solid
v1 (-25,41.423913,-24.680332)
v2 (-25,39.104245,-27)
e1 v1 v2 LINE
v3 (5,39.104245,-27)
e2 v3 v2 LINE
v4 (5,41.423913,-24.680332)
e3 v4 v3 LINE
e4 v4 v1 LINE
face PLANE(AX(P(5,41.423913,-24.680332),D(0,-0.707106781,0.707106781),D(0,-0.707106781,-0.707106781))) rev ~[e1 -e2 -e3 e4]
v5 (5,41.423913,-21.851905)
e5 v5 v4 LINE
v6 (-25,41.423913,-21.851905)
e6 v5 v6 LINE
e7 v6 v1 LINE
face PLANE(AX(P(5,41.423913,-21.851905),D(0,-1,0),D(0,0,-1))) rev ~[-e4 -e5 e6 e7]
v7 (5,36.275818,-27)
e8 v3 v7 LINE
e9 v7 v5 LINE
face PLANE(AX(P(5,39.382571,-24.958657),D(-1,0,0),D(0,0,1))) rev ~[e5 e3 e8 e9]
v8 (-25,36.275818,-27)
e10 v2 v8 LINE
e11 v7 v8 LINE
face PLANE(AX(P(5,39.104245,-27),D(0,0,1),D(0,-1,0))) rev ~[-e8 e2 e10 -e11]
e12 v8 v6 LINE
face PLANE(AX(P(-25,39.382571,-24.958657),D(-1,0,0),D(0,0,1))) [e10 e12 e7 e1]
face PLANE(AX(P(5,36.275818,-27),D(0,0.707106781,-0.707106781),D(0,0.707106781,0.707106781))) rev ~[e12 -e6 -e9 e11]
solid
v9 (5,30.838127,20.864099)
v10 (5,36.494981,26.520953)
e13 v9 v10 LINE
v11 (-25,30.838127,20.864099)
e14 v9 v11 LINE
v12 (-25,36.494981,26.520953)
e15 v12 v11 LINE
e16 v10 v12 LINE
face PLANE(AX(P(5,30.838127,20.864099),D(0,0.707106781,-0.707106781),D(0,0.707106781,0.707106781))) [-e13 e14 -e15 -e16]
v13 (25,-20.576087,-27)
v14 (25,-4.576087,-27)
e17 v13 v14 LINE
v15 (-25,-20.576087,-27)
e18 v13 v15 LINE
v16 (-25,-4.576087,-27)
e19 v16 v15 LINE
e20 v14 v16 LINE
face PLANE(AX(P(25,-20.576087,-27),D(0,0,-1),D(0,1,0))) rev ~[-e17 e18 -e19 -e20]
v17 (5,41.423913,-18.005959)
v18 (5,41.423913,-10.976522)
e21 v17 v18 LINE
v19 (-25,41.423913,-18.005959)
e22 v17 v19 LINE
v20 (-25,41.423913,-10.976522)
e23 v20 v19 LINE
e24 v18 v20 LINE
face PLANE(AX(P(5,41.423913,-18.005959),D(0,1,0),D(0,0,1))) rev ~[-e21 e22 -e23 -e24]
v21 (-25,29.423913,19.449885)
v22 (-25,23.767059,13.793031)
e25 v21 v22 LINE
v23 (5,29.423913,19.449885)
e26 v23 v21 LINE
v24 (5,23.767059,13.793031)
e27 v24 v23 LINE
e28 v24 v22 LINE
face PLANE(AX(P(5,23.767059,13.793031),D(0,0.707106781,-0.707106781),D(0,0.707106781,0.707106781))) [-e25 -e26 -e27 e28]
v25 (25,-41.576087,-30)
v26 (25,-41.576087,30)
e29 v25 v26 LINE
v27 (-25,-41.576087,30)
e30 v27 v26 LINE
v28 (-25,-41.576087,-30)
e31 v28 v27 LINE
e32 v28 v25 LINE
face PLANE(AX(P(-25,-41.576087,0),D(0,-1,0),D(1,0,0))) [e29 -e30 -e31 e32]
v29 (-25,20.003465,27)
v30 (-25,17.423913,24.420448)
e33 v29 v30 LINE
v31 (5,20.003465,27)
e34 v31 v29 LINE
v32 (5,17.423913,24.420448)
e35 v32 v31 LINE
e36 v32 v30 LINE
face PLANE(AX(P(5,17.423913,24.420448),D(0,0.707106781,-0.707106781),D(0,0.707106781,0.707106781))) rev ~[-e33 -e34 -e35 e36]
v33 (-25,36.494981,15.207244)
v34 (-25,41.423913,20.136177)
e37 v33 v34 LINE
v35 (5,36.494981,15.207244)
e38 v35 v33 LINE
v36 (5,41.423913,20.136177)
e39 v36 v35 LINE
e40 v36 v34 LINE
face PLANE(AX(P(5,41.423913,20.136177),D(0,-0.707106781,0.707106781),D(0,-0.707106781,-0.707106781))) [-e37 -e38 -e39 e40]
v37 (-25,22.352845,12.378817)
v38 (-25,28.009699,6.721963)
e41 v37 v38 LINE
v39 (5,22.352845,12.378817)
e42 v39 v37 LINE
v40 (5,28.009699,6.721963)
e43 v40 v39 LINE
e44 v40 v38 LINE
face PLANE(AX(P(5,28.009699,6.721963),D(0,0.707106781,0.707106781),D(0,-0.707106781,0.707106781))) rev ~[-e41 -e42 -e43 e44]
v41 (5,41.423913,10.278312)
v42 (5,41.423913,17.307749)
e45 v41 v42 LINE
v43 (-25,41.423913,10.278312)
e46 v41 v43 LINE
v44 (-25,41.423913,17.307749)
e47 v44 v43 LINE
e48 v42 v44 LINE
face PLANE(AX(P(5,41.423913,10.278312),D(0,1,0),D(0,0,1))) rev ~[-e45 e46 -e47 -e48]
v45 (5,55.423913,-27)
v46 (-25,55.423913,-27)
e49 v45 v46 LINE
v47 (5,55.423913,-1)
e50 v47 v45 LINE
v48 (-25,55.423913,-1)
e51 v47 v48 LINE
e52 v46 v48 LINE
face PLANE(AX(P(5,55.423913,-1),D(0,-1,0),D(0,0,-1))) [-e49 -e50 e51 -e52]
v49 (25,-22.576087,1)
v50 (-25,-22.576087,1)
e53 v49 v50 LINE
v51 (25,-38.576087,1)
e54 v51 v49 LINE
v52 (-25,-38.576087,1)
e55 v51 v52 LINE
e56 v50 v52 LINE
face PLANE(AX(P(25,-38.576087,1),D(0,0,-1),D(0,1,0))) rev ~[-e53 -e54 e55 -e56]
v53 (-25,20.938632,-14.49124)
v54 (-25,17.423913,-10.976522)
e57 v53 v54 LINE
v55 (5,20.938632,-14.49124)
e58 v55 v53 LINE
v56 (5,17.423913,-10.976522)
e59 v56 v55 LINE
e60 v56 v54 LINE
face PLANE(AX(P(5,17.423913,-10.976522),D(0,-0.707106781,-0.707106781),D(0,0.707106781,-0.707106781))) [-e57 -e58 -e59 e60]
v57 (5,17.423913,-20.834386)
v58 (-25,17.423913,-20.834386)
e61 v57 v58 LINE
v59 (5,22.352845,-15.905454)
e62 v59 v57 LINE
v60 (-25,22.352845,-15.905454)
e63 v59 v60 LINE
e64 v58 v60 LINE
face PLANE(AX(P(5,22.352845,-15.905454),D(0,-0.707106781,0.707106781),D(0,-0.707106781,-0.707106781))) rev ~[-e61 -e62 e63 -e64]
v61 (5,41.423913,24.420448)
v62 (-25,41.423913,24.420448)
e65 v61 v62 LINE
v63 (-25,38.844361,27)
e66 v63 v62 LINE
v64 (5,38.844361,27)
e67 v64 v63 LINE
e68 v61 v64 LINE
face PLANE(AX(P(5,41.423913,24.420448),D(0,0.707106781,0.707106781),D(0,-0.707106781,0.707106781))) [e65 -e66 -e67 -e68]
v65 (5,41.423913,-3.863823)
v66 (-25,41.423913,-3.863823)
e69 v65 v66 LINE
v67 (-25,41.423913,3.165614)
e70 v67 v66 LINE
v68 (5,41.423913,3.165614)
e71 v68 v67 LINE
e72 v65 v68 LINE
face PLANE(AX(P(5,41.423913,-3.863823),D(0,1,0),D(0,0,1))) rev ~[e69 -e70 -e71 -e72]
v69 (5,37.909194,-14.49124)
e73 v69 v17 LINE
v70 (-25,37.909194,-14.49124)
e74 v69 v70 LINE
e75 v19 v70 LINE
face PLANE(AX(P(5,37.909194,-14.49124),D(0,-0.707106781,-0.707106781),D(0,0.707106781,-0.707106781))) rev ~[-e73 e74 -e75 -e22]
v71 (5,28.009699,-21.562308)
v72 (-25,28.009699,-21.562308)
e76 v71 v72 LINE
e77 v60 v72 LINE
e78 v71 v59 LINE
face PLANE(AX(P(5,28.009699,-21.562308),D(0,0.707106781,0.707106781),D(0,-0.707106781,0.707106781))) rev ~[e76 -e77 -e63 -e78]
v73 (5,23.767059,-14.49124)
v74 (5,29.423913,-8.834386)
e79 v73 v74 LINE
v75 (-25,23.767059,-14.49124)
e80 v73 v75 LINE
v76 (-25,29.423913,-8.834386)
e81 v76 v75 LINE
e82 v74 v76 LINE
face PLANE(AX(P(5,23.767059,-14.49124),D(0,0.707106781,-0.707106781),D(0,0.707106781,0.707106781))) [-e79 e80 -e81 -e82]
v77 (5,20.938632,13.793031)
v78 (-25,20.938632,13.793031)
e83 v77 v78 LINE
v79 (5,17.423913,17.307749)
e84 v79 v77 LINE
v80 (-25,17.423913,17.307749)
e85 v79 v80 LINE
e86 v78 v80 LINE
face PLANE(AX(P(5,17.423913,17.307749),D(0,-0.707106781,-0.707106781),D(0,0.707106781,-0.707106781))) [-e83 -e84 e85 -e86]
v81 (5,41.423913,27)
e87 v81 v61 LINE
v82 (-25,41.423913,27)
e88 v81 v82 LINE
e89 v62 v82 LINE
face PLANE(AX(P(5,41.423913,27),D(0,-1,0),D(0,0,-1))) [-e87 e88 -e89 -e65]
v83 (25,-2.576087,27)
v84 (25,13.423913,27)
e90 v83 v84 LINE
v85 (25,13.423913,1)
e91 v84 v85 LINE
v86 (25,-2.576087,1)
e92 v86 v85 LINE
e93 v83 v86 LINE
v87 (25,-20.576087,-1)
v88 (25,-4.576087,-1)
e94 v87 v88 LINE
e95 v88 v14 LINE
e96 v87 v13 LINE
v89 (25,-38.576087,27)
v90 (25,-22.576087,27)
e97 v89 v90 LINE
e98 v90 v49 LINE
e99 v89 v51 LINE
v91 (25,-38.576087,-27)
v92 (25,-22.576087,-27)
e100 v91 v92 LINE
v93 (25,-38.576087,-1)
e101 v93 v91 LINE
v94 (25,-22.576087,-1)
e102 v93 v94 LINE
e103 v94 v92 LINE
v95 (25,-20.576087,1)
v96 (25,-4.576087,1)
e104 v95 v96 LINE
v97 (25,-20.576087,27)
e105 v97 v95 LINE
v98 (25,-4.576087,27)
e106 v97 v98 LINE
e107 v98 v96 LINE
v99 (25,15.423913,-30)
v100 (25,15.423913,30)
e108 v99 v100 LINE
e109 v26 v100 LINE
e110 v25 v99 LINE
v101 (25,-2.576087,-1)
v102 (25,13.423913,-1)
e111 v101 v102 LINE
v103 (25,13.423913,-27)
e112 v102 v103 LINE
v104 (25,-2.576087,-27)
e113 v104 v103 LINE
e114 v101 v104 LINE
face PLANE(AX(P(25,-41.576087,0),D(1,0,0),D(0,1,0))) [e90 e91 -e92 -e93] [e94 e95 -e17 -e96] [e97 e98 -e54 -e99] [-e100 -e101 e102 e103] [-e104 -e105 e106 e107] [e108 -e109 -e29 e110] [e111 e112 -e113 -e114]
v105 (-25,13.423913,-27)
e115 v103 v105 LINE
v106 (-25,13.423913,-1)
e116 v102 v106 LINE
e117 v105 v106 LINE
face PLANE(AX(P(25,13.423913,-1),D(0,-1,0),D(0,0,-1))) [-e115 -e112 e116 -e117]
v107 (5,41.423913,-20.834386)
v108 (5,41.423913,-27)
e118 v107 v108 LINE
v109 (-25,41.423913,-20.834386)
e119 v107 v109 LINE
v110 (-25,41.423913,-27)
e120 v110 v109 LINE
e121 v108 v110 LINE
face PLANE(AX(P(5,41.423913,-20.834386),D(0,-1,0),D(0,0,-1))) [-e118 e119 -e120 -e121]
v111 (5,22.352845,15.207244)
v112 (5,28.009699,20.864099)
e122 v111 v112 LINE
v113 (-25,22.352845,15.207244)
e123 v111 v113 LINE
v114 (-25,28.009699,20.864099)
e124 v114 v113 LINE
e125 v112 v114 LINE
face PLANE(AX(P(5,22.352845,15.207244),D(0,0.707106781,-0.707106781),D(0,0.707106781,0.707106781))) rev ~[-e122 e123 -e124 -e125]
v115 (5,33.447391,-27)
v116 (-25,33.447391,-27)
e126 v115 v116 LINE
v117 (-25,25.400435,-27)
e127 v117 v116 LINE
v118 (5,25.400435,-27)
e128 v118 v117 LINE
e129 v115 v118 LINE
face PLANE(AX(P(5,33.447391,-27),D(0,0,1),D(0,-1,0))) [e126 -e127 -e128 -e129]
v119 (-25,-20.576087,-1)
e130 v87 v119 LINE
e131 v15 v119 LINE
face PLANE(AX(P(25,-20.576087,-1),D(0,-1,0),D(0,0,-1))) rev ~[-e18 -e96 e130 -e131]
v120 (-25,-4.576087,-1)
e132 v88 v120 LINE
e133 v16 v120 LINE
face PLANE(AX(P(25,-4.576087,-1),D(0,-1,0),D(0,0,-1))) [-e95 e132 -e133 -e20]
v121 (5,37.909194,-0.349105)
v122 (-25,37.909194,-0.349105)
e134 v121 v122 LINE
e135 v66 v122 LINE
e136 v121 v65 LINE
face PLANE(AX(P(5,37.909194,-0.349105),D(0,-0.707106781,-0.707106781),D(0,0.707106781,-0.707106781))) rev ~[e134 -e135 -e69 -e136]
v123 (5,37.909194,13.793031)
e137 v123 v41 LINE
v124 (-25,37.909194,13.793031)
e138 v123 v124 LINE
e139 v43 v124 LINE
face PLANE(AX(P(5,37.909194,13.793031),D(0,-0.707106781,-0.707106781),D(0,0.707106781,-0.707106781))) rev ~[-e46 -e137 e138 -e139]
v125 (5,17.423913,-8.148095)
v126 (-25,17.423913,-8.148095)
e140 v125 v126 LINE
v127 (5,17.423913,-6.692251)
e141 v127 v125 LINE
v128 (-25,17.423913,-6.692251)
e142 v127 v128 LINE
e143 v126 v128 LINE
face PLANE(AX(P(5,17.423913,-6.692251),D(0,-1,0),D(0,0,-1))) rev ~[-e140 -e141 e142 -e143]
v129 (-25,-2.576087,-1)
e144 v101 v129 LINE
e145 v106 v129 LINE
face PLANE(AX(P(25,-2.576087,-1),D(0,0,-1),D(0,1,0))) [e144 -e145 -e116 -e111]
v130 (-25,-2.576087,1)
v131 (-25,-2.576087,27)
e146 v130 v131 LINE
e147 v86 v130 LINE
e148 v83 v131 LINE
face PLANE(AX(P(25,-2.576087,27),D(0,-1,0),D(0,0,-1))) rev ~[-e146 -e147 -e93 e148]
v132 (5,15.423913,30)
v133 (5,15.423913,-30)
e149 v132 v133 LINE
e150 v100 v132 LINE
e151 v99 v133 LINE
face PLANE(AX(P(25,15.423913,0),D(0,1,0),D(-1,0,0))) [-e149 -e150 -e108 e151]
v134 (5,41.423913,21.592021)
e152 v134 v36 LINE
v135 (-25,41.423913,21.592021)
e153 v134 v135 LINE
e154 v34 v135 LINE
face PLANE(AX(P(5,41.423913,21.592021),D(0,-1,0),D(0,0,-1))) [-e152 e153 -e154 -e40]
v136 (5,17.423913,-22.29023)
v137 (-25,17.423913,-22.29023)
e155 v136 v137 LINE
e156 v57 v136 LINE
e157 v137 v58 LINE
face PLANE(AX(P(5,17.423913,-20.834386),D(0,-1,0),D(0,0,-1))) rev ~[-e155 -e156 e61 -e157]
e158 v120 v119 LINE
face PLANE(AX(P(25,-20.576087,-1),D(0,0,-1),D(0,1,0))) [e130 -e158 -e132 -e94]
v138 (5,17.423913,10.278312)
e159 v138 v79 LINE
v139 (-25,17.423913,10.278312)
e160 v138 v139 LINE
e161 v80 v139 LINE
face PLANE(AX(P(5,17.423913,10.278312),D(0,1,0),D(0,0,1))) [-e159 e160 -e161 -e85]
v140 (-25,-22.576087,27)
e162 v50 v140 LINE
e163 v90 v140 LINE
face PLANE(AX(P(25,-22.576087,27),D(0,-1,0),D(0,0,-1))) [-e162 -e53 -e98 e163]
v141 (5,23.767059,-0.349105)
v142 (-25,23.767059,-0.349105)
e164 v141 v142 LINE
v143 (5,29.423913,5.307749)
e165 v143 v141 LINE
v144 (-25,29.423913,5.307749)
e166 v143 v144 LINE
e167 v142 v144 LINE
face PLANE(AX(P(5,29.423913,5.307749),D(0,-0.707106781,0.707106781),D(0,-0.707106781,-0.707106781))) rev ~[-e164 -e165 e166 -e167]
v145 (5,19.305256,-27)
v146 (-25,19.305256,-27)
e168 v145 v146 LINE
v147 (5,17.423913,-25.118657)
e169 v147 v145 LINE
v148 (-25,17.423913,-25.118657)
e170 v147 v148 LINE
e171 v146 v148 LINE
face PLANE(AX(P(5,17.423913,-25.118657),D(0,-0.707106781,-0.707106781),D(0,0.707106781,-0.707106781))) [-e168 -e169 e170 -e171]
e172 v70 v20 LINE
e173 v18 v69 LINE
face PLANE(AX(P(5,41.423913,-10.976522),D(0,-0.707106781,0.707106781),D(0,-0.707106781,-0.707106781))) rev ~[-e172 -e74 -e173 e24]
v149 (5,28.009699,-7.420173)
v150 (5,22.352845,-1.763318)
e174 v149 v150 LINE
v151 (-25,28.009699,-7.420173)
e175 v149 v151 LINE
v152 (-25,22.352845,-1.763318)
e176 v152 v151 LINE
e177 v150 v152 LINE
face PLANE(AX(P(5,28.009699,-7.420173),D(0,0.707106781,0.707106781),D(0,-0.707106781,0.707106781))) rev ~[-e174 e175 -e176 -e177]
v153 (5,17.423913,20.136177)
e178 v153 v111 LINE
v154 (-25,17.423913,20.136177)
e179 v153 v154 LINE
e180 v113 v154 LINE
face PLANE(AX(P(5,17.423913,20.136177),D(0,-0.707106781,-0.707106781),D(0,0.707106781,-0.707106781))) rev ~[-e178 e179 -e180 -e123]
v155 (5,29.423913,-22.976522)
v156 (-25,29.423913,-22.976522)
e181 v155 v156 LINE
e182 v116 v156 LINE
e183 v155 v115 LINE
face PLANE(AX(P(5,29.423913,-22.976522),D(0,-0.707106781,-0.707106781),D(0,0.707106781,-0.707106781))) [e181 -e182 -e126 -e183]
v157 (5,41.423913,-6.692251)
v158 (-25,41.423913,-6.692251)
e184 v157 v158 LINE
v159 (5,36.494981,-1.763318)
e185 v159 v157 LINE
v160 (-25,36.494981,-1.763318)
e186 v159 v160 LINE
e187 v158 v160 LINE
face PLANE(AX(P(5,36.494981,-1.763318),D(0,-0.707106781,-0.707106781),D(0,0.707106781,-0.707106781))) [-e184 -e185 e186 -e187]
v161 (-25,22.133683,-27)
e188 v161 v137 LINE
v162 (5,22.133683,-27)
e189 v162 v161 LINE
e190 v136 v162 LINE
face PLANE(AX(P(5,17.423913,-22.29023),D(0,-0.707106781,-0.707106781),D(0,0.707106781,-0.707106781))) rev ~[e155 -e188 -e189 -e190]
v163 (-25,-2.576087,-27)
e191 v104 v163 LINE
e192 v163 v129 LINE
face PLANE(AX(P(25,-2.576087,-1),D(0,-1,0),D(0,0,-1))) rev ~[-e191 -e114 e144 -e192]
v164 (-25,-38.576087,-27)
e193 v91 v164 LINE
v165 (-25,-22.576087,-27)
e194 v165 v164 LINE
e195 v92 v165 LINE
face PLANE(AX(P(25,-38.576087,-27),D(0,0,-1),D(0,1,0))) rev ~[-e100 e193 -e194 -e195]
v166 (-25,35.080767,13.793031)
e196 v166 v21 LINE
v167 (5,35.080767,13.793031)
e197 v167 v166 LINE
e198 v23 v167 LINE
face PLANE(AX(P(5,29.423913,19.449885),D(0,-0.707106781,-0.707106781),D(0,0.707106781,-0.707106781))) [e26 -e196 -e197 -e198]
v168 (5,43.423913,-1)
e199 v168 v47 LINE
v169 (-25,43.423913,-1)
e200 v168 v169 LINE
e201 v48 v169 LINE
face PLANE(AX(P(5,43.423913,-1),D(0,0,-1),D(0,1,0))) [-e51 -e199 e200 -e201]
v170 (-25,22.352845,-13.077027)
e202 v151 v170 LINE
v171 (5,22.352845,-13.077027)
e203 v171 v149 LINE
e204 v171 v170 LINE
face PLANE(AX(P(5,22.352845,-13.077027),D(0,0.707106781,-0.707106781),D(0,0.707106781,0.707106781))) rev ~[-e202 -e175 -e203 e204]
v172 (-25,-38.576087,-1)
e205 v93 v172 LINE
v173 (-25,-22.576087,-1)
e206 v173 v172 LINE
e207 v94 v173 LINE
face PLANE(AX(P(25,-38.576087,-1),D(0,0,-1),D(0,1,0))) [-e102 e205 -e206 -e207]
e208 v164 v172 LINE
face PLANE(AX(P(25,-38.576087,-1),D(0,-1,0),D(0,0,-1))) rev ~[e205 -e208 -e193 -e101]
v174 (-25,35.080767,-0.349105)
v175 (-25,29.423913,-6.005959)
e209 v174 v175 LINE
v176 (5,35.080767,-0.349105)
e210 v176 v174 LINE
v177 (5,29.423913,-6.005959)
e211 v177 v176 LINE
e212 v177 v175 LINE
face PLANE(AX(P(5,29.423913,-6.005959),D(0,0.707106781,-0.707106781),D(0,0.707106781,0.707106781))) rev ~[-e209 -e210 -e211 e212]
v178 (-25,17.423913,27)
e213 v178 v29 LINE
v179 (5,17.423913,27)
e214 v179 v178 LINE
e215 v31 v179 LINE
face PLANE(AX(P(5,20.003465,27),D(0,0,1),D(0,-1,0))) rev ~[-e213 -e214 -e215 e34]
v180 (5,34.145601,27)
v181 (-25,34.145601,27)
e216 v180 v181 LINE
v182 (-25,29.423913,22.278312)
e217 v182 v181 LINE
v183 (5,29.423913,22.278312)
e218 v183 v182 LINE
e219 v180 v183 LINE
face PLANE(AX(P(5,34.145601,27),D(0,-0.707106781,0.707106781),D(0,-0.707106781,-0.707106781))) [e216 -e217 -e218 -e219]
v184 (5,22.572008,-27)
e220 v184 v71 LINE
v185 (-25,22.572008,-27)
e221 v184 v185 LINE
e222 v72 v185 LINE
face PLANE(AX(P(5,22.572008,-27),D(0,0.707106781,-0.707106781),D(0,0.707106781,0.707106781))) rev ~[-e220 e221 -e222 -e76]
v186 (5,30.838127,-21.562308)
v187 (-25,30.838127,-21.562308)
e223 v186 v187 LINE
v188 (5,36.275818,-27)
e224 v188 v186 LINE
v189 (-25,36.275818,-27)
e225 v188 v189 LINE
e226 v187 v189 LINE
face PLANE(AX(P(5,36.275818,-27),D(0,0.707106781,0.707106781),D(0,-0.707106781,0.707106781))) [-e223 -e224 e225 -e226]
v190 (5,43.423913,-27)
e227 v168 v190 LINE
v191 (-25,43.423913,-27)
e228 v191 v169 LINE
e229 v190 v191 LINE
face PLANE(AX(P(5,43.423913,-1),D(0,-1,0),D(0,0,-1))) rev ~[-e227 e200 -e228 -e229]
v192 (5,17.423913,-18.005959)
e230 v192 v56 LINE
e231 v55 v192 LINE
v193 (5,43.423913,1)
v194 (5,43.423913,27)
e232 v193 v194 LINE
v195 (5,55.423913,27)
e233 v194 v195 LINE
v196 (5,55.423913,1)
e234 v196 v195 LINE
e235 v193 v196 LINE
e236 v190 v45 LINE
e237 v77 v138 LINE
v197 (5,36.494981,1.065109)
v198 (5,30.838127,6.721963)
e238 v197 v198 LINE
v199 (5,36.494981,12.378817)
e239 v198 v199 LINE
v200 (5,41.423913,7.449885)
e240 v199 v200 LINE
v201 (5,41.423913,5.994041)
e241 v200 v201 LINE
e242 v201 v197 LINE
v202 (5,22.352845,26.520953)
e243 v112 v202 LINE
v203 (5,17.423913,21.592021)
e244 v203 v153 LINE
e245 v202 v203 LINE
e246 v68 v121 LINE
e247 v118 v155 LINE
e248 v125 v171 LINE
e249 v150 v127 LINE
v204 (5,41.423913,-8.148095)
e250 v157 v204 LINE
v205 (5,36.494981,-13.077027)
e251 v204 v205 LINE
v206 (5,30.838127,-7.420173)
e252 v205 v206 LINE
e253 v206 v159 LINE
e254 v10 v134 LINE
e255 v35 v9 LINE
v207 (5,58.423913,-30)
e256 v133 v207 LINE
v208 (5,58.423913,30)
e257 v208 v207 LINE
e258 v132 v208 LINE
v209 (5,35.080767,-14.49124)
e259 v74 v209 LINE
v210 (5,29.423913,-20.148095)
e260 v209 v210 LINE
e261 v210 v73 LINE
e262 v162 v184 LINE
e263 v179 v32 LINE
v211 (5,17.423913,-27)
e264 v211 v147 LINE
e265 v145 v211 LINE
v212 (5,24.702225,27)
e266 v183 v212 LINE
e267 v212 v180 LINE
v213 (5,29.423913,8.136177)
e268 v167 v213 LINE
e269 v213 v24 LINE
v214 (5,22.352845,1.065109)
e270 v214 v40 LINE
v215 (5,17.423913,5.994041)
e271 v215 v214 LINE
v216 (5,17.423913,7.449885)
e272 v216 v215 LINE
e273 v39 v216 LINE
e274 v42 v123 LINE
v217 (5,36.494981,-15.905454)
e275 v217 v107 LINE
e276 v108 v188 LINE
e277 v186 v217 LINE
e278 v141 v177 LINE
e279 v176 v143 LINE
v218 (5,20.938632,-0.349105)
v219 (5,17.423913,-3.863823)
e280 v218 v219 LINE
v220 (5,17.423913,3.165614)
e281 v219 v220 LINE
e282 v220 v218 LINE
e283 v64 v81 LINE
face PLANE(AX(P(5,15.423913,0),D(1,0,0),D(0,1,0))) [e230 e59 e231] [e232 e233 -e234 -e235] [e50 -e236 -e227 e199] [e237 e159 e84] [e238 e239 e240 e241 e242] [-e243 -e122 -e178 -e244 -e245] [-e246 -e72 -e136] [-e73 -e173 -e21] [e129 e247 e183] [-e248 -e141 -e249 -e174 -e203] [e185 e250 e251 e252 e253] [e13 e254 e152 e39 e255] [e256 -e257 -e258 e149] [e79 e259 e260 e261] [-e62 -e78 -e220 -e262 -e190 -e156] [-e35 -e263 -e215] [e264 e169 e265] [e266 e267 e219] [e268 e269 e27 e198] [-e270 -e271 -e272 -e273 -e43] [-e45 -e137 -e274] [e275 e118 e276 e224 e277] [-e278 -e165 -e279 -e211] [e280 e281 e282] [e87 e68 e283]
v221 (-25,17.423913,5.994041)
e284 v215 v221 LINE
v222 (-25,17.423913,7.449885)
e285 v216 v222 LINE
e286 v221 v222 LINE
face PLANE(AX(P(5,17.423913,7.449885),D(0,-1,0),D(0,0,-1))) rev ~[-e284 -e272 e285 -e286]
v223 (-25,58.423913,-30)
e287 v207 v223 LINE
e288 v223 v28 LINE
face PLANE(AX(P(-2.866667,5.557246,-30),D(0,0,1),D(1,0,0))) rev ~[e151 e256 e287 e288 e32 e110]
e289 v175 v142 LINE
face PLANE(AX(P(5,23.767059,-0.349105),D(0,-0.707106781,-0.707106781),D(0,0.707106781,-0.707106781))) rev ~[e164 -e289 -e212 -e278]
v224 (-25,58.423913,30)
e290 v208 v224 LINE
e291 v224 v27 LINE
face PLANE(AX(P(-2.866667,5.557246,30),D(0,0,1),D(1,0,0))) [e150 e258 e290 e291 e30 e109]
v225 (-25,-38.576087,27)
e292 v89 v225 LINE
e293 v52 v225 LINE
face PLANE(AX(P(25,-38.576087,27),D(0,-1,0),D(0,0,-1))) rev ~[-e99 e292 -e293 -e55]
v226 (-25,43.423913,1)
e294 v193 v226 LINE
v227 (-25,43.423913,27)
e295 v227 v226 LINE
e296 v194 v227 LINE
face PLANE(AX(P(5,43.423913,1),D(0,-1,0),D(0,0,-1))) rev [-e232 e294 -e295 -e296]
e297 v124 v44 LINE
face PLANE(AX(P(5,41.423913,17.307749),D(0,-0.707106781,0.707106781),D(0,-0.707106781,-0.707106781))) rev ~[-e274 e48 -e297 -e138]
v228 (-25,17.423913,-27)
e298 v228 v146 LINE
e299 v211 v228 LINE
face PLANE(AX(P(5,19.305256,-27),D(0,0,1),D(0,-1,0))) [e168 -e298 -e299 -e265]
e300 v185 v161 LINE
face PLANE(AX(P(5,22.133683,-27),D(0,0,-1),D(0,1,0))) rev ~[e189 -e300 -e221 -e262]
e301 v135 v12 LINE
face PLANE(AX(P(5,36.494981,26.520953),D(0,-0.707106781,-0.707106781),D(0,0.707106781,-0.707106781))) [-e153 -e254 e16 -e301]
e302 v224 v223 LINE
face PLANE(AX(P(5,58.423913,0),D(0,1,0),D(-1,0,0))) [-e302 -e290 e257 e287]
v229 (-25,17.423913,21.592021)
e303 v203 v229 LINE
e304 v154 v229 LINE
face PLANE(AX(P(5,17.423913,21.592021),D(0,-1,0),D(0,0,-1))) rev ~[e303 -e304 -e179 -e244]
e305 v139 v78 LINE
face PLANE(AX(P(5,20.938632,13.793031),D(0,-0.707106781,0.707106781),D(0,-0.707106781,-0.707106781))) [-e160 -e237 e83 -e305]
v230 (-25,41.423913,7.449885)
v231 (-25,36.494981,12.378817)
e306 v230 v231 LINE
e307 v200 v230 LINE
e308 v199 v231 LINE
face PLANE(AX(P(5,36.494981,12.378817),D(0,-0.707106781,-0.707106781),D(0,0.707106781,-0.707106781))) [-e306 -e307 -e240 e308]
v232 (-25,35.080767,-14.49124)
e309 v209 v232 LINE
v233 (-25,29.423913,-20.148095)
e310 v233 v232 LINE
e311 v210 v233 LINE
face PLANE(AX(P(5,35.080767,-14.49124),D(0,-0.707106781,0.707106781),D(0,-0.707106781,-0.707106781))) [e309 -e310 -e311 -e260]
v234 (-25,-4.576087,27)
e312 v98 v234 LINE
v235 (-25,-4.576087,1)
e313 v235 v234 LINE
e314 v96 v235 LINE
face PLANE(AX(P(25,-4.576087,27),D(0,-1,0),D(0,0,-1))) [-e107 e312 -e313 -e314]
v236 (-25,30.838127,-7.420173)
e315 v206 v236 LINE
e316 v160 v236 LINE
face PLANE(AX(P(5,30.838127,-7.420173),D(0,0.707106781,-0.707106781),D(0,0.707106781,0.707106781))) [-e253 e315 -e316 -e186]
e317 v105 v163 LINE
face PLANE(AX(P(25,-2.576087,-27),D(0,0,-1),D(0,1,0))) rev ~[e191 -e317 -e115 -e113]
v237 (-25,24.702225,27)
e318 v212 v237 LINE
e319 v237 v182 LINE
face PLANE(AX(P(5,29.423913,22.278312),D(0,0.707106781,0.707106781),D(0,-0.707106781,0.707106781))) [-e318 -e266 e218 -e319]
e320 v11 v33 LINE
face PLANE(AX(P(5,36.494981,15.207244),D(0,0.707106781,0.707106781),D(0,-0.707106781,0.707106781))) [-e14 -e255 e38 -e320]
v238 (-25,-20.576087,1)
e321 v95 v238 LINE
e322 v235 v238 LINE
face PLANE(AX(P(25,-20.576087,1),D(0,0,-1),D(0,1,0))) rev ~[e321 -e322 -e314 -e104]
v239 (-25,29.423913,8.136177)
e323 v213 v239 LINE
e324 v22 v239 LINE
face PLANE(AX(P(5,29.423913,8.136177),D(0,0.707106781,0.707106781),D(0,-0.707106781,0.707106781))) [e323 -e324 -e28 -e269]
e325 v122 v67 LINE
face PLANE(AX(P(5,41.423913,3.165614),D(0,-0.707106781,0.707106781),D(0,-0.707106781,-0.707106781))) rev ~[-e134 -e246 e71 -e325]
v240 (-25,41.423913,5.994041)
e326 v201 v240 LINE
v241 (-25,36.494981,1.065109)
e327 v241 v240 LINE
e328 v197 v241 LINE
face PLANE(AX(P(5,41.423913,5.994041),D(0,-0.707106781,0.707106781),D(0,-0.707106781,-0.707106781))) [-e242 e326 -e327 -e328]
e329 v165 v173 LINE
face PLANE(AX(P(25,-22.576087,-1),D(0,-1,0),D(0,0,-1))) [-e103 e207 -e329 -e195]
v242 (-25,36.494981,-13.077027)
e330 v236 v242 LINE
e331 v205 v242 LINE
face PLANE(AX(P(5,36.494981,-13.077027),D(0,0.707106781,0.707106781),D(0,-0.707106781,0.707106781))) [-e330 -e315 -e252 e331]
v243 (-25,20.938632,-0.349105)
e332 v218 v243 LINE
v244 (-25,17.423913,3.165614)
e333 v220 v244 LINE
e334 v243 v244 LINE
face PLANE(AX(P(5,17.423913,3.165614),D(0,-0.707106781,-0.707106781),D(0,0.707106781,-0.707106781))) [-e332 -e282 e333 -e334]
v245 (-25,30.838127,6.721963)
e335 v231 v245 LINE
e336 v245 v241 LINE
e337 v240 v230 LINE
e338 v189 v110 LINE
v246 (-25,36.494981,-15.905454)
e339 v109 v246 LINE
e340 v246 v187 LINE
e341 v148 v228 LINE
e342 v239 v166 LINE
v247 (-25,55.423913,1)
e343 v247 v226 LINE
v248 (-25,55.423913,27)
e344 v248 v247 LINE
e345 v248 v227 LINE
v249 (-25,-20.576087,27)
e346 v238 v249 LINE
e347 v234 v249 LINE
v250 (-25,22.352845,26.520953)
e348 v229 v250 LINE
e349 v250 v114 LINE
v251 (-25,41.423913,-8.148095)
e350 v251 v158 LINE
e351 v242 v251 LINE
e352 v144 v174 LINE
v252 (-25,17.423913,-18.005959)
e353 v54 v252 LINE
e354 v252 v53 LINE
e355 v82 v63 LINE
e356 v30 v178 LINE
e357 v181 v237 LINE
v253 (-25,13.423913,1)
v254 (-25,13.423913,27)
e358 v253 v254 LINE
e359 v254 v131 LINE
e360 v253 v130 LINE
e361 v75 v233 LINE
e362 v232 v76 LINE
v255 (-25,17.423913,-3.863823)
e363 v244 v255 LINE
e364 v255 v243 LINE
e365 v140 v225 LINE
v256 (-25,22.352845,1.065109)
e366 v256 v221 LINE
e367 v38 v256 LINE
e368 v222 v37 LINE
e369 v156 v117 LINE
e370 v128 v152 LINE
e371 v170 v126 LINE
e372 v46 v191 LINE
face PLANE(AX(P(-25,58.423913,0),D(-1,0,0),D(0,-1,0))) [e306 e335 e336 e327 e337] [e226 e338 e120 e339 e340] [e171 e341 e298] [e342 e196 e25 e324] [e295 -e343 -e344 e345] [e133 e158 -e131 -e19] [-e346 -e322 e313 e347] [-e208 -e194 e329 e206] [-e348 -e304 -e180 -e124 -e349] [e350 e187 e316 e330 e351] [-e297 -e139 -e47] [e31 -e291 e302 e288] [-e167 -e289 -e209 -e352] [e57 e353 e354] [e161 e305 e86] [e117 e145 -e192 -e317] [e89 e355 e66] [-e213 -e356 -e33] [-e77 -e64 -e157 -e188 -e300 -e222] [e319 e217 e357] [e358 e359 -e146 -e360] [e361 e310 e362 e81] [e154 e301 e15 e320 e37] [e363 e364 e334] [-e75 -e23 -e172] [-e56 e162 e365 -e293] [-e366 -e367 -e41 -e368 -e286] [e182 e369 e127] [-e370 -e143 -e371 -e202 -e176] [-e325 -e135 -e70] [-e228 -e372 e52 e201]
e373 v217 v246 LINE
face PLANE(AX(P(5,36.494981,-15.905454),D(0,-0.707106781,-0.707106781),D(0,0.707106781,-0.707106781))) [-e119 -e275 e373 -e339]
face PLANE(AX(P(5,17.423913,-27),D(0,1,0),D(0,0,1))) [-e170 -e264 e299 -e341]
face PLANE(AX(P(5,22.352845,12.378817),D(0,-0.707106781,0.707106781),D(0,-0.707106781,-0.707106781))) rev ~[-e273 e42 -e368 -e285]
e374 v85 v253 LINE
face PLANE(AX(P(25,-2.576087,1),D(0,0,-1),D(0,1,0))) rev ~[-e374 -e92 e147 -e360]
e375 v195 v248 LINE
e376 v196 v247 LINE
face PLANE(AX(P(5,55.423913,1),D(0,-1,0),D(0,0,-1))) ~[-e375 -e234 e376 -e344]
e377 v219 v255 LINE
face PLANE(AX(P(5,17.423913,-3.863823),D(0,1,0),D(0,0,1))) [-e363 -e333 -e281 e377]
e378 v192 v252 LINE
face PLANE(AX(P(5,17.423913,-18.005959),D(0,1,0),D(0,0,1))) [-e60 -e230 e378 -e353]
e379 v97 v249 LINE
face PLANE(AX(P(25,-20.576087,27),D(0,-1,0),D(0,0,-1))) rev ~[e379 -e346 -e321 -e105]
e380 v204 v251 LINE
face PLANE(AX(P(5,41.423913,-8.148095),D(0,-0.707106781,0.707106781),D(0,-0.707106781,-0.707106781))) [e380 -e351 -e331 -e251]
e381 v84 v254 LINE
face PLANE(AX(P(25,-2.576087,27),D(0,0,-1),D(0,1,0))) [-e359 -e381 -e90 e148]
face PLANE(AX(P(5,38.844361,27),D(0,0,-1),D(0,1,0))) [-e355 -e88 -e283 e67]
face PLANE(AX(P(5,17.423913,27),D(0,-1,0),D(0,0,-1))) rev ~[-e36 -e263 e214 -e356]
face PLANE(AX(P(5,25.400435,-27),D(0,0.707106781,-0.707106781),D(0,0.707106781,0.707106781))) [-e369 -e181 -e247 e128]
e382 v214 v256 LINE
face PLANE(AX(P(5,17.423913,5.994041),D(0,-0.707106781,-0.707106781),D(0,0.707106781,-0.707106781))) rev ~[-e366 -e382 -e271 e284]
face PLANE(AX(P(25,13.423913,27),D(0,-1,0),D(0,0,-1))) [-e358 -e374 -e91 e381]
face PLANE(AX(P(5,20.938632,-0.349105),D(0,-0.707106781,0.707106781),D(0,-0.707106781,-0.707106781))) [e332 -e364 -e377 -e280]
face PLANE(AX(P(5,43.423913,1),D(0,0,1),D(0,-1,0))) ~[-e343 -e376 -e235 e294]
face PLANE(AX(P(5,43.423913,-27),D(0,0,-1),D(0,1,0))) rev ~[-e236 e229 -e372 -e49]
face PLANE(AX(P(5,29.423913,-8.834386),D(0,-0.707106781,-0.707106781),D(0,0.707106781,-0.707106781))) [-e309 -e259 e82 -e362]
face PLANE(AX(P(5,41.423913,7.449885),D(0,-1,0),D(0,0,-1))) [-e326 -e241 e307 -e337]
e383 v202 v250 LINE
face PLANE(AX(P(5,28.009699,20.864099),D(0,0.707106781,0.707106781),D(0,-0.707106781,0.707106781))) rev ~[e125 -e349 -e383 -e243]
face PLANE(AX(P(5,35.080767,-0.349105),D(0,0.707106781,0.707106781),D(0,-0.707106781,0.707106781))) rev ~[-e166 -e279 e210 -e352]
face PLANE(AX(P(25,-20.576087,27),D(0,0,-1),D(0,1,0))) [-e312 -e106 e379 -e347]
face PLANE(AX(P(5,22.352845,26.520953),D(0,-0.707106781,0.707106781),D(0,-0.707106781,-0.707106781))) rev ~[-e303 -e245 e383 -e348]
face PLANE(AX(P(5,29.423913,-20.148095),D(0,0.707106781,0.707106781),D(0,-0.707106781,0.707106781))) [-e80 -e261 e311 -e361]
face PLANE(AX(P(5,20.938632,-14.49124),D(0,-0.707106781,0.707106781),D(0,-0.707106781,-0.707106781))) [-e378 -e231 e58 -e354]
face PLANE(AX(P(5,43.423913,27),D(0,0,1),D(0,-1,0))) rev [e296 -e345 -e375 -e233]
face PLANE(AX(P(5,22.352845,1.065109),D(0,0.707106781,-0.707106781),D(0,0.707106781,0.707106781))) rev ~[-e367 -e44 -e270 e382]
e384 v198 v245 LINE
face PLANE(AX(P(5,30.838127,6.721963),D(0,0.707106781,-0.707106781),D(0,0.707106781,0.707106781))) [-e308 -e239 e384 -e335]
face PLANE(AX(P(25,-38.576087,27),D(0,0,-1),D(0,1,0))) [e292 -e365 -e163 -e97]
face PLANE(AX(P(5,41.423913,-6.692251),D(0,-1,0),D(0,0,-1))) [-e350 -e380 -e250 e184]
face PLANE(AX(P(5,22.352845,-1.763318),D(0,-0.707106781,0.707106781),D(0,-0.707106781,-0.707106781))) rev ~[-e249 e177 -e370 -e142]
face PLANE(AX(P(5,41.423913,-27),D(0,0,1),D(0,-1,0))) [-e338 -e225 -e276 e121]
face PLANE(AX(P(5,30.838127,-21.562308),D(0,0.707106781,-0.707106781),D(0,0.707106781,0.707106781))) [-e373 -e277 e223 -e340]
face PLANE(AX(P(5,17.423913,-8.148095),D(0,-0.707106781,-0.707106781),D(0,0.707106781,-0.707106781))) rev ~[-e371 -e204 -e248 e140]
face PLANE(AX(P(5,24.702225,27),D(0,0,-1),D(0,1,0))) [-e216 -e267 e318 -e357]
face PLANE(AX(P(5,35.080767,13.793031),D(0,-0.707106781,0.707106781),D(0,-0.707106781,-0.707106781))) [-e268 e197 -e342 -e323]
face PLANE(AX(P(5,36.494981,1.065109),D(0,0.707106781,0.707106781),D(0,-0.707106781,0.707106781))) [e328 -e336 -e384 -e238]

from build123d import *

# Parameters (mm, degrees)
BOSS_EXTRUDE1_DEPTH = 30
SKETCH2_W           = 26
SKETCH2_H           = 16
CUT_EXTRUDE1_DEPTH  = 83.543040987
SKETCH3_W           = 26
SKETCH3_H           = 12
CUT_EXTRUDE2_DEPTH  = 73.203556805
CUT_EXTRUDE3_DEPTH  = 73.203556805
BOSS_EXTRUDE2_DEPTH = 30


with BuildPart() as part:
    # Sketch1 → Boss-Extrude1 (new, symmetric)
    with BuildSketch(Plane.XY):
        Polygon((-25, 58.423913043), (-25, -41.576086957), (25, -41.576086957), (25, 15.423913043), (5, 15.423913043), (5, 58.423913043), align=None)
    extrude(amount=BOSS_EXTRUDE1_DEPTH, both=True)

    # Sketch2 → Cut-Extrude1 (cut, through all)
    with BuildSketch(Plane(origin=(25, 0, 0), x_dir=(0, 0, -1), z_dir=(1, 0, 0))):
        with Locations((-14, 5.423913043)):
            Rectangle(SKETCH2_W, SKETCH2_H)
        with Locations((14, 5.423913043)):
            Rectangle(SKETCH2_W, SKETCH2_H)
        with Locations((-14, -12.576086957)):
            Rectangle(SKETCH2_W, SKETCH2_H)
        with Locations((14, -12.576086957)):
            Rectangle(SKETCH2_W, SKETCH2_H)
        with Locations((14, -30.576086957)):
            Rectangle(SKETCH2_W, SKETCH2_H)
        with Locations((-14, -30.576086957)):
            Rectangle(SKETCH2_W, SKETCH2_H)
    extrude(amount=-CUT_EXTRUDE1_DEPTH, mode=Mode.SUBTRACT)

    # Sketch3 → Cut-Extrude2 (cut, through all)
    with BuildSketch(Plane(origin=(5, 0, 0), x_dir=(0, 0, -1), z_dir=(1, 0, 0))):
        with Locations((14, 49.423913043)):
            Rectangle(SKETCH3_W, SKETCH3_H)
    cut_extrude2 = extrude(amount=-CUT_EXTRUDE2_DEPTH, mode=Mode.SUBTRACT)

    # Mirror2: Cut-Extrude2 across plane
    add(cut_extrude2.mirror(Plane.XY), mode=Mode.SUBTRACT)

    # Sketch4 → Cut-Extrude3 (cut, through all)
    with BuildSketch(Plane(origin=(5, 0, 0), x_dir=(0, 0, -1), z_dir=(1, 0, 0))):
        Polygon((-27, 41.423913043), (-24.420447792, 41.423913043), (-27, 38.844360836), align=None)
        Polygon((-27, 17.423913043), (-24.420447792, 17.423913043), (-27, 20.003465251), align=None)
        Polygon((27, 41.423913043), (27, 36.275818341), (21.562308265, 30.838126606), (15.905454016, 36.494980855), (20.834386204, 41.423913043), align=None)
        Polygon((-26.520952855, 22.352845232), (-21.592020667, 17.423913043), (-20.136176545, 17.423913043), (-15.207244356, 22.352845232), (-20.864098606, 28.009699481), align=None)
        Polygon((-20.136176545, 41.423913043), (-15.207244356, 36.494980855), (-20.864098606, 30.838126606), (-26.520952855, 36.494980855), (-21.592020667, 41.423913043), align=None)
        Polygon((-17.30774942, 41.423913043), (-13.793030794, 37.909194418), (-10.278312168, 41.423913043), align=None)
        Polygon((-27, 34.145600875), (-22.278312168, 29.423913043), (-27, 24.702225212), align=None)
        Polygon((-5.994040921, 41.423913043), (-1.065108733, 36.494980855), (-6.721962982, 30.838126606), (-12.378817232, 36.494980855), (-7.449885044, 41.423913043), align=None)
        Polygon((-3.165613796, 41.423913043), (0.34910483, 37.909194418), (3.863823455, 41.423913043), align=None)
        Polygon((8.148094703, 41.423913043), (13.077026891, 36.494980855), (7.420172641, 30.838126606), (1.763318392, 36.494980855), (6.69225058, 41.423913043), align=None)
        Polygon((10.976521828, 41.423913043), (14.491240453, 37.909194418), (18.005959079, 41.423913043), align=None)
        Polygon((-5.994040921, 17.423913043), (-1.065108733, 22.352845232), (-6.721962982, 28.009699481), (-12.378817232, 22.352845232), (-7.449885044, 17.423913043), align=None)
        Polygon((-17.30774942, 17.423913043), (-13.793030794, 20.938631669), (-10.278312168, 17.423913043), align=None)
        Polygon((-3.165613796, 17.423913043), (0.34910483, 20.938631669), (3.863823455, 17.423913043), align=None)
        Polygon((8.148094703, 17.423913043), (13.077026891, 22.352845232), (7.420172641, 28.009699481), (1.763318392, 22.352845232), (6.69225058, 17.423913043), align=None)
        Polygon((10.976521828, 17.423913043), (14.491240453, 20.938631669), (18.005959079, 17.423913043), align=None)
        Polygon((25.118657451, 17.423913043), (27, 19.305255592), (27, 17.423913043), align=None)
        Polygon((22.290230327, 17.423913043), (27, 22.133682717), (27, 22.572007746), (21.562308265, 28.009699481), (15.905454016, 22.352845232), (20.834386204, 17.423913043), align=None)
        Polygon((-13.793030794, 35.080767293), (-8.136176545, 29.423913043), (-13.793030794, 23.767058794), (-19.449885044, 29.423913043), align=None)
        Polygon((-5.30774942, 29.423913043), (0.34910483, 23.767058794), (6.005959079, 29.423913043), (0.34910483, 35.080767293), align=None)
        Polygon((22.976521828, 29.423913043), (27, 33.447391216), (27, 25.400434871), align=None)
        Polygon((14.491240453, 35.080767293), (20.148094703, 29.423913043), (14.491240453, 23.767058794), (8.834386204, 29.423913043), align=None)
    extrude(amount=-CUT_EXTRUDE3_DEPTH, mode=Mode.SUBTRACT)


with BuildPart() as body_2:
    # Sketch5 → Boss-Extrude2 (new, through all)
    with BuildSketch(Plane(origin=(5, 0, 0), x_dir=(0, 0, -1), z_dir=(1, 0, 0))):
        Polygon((27, 36.275818341), (21.851905297, 41.423913043), (24.680332422, 41.423913043), (27, 39.104245465), align=None)
    extrude(amount=-BOSS_EXTRUDE2_DEPTH)


solid = Compound([part.part, body_2.part])
